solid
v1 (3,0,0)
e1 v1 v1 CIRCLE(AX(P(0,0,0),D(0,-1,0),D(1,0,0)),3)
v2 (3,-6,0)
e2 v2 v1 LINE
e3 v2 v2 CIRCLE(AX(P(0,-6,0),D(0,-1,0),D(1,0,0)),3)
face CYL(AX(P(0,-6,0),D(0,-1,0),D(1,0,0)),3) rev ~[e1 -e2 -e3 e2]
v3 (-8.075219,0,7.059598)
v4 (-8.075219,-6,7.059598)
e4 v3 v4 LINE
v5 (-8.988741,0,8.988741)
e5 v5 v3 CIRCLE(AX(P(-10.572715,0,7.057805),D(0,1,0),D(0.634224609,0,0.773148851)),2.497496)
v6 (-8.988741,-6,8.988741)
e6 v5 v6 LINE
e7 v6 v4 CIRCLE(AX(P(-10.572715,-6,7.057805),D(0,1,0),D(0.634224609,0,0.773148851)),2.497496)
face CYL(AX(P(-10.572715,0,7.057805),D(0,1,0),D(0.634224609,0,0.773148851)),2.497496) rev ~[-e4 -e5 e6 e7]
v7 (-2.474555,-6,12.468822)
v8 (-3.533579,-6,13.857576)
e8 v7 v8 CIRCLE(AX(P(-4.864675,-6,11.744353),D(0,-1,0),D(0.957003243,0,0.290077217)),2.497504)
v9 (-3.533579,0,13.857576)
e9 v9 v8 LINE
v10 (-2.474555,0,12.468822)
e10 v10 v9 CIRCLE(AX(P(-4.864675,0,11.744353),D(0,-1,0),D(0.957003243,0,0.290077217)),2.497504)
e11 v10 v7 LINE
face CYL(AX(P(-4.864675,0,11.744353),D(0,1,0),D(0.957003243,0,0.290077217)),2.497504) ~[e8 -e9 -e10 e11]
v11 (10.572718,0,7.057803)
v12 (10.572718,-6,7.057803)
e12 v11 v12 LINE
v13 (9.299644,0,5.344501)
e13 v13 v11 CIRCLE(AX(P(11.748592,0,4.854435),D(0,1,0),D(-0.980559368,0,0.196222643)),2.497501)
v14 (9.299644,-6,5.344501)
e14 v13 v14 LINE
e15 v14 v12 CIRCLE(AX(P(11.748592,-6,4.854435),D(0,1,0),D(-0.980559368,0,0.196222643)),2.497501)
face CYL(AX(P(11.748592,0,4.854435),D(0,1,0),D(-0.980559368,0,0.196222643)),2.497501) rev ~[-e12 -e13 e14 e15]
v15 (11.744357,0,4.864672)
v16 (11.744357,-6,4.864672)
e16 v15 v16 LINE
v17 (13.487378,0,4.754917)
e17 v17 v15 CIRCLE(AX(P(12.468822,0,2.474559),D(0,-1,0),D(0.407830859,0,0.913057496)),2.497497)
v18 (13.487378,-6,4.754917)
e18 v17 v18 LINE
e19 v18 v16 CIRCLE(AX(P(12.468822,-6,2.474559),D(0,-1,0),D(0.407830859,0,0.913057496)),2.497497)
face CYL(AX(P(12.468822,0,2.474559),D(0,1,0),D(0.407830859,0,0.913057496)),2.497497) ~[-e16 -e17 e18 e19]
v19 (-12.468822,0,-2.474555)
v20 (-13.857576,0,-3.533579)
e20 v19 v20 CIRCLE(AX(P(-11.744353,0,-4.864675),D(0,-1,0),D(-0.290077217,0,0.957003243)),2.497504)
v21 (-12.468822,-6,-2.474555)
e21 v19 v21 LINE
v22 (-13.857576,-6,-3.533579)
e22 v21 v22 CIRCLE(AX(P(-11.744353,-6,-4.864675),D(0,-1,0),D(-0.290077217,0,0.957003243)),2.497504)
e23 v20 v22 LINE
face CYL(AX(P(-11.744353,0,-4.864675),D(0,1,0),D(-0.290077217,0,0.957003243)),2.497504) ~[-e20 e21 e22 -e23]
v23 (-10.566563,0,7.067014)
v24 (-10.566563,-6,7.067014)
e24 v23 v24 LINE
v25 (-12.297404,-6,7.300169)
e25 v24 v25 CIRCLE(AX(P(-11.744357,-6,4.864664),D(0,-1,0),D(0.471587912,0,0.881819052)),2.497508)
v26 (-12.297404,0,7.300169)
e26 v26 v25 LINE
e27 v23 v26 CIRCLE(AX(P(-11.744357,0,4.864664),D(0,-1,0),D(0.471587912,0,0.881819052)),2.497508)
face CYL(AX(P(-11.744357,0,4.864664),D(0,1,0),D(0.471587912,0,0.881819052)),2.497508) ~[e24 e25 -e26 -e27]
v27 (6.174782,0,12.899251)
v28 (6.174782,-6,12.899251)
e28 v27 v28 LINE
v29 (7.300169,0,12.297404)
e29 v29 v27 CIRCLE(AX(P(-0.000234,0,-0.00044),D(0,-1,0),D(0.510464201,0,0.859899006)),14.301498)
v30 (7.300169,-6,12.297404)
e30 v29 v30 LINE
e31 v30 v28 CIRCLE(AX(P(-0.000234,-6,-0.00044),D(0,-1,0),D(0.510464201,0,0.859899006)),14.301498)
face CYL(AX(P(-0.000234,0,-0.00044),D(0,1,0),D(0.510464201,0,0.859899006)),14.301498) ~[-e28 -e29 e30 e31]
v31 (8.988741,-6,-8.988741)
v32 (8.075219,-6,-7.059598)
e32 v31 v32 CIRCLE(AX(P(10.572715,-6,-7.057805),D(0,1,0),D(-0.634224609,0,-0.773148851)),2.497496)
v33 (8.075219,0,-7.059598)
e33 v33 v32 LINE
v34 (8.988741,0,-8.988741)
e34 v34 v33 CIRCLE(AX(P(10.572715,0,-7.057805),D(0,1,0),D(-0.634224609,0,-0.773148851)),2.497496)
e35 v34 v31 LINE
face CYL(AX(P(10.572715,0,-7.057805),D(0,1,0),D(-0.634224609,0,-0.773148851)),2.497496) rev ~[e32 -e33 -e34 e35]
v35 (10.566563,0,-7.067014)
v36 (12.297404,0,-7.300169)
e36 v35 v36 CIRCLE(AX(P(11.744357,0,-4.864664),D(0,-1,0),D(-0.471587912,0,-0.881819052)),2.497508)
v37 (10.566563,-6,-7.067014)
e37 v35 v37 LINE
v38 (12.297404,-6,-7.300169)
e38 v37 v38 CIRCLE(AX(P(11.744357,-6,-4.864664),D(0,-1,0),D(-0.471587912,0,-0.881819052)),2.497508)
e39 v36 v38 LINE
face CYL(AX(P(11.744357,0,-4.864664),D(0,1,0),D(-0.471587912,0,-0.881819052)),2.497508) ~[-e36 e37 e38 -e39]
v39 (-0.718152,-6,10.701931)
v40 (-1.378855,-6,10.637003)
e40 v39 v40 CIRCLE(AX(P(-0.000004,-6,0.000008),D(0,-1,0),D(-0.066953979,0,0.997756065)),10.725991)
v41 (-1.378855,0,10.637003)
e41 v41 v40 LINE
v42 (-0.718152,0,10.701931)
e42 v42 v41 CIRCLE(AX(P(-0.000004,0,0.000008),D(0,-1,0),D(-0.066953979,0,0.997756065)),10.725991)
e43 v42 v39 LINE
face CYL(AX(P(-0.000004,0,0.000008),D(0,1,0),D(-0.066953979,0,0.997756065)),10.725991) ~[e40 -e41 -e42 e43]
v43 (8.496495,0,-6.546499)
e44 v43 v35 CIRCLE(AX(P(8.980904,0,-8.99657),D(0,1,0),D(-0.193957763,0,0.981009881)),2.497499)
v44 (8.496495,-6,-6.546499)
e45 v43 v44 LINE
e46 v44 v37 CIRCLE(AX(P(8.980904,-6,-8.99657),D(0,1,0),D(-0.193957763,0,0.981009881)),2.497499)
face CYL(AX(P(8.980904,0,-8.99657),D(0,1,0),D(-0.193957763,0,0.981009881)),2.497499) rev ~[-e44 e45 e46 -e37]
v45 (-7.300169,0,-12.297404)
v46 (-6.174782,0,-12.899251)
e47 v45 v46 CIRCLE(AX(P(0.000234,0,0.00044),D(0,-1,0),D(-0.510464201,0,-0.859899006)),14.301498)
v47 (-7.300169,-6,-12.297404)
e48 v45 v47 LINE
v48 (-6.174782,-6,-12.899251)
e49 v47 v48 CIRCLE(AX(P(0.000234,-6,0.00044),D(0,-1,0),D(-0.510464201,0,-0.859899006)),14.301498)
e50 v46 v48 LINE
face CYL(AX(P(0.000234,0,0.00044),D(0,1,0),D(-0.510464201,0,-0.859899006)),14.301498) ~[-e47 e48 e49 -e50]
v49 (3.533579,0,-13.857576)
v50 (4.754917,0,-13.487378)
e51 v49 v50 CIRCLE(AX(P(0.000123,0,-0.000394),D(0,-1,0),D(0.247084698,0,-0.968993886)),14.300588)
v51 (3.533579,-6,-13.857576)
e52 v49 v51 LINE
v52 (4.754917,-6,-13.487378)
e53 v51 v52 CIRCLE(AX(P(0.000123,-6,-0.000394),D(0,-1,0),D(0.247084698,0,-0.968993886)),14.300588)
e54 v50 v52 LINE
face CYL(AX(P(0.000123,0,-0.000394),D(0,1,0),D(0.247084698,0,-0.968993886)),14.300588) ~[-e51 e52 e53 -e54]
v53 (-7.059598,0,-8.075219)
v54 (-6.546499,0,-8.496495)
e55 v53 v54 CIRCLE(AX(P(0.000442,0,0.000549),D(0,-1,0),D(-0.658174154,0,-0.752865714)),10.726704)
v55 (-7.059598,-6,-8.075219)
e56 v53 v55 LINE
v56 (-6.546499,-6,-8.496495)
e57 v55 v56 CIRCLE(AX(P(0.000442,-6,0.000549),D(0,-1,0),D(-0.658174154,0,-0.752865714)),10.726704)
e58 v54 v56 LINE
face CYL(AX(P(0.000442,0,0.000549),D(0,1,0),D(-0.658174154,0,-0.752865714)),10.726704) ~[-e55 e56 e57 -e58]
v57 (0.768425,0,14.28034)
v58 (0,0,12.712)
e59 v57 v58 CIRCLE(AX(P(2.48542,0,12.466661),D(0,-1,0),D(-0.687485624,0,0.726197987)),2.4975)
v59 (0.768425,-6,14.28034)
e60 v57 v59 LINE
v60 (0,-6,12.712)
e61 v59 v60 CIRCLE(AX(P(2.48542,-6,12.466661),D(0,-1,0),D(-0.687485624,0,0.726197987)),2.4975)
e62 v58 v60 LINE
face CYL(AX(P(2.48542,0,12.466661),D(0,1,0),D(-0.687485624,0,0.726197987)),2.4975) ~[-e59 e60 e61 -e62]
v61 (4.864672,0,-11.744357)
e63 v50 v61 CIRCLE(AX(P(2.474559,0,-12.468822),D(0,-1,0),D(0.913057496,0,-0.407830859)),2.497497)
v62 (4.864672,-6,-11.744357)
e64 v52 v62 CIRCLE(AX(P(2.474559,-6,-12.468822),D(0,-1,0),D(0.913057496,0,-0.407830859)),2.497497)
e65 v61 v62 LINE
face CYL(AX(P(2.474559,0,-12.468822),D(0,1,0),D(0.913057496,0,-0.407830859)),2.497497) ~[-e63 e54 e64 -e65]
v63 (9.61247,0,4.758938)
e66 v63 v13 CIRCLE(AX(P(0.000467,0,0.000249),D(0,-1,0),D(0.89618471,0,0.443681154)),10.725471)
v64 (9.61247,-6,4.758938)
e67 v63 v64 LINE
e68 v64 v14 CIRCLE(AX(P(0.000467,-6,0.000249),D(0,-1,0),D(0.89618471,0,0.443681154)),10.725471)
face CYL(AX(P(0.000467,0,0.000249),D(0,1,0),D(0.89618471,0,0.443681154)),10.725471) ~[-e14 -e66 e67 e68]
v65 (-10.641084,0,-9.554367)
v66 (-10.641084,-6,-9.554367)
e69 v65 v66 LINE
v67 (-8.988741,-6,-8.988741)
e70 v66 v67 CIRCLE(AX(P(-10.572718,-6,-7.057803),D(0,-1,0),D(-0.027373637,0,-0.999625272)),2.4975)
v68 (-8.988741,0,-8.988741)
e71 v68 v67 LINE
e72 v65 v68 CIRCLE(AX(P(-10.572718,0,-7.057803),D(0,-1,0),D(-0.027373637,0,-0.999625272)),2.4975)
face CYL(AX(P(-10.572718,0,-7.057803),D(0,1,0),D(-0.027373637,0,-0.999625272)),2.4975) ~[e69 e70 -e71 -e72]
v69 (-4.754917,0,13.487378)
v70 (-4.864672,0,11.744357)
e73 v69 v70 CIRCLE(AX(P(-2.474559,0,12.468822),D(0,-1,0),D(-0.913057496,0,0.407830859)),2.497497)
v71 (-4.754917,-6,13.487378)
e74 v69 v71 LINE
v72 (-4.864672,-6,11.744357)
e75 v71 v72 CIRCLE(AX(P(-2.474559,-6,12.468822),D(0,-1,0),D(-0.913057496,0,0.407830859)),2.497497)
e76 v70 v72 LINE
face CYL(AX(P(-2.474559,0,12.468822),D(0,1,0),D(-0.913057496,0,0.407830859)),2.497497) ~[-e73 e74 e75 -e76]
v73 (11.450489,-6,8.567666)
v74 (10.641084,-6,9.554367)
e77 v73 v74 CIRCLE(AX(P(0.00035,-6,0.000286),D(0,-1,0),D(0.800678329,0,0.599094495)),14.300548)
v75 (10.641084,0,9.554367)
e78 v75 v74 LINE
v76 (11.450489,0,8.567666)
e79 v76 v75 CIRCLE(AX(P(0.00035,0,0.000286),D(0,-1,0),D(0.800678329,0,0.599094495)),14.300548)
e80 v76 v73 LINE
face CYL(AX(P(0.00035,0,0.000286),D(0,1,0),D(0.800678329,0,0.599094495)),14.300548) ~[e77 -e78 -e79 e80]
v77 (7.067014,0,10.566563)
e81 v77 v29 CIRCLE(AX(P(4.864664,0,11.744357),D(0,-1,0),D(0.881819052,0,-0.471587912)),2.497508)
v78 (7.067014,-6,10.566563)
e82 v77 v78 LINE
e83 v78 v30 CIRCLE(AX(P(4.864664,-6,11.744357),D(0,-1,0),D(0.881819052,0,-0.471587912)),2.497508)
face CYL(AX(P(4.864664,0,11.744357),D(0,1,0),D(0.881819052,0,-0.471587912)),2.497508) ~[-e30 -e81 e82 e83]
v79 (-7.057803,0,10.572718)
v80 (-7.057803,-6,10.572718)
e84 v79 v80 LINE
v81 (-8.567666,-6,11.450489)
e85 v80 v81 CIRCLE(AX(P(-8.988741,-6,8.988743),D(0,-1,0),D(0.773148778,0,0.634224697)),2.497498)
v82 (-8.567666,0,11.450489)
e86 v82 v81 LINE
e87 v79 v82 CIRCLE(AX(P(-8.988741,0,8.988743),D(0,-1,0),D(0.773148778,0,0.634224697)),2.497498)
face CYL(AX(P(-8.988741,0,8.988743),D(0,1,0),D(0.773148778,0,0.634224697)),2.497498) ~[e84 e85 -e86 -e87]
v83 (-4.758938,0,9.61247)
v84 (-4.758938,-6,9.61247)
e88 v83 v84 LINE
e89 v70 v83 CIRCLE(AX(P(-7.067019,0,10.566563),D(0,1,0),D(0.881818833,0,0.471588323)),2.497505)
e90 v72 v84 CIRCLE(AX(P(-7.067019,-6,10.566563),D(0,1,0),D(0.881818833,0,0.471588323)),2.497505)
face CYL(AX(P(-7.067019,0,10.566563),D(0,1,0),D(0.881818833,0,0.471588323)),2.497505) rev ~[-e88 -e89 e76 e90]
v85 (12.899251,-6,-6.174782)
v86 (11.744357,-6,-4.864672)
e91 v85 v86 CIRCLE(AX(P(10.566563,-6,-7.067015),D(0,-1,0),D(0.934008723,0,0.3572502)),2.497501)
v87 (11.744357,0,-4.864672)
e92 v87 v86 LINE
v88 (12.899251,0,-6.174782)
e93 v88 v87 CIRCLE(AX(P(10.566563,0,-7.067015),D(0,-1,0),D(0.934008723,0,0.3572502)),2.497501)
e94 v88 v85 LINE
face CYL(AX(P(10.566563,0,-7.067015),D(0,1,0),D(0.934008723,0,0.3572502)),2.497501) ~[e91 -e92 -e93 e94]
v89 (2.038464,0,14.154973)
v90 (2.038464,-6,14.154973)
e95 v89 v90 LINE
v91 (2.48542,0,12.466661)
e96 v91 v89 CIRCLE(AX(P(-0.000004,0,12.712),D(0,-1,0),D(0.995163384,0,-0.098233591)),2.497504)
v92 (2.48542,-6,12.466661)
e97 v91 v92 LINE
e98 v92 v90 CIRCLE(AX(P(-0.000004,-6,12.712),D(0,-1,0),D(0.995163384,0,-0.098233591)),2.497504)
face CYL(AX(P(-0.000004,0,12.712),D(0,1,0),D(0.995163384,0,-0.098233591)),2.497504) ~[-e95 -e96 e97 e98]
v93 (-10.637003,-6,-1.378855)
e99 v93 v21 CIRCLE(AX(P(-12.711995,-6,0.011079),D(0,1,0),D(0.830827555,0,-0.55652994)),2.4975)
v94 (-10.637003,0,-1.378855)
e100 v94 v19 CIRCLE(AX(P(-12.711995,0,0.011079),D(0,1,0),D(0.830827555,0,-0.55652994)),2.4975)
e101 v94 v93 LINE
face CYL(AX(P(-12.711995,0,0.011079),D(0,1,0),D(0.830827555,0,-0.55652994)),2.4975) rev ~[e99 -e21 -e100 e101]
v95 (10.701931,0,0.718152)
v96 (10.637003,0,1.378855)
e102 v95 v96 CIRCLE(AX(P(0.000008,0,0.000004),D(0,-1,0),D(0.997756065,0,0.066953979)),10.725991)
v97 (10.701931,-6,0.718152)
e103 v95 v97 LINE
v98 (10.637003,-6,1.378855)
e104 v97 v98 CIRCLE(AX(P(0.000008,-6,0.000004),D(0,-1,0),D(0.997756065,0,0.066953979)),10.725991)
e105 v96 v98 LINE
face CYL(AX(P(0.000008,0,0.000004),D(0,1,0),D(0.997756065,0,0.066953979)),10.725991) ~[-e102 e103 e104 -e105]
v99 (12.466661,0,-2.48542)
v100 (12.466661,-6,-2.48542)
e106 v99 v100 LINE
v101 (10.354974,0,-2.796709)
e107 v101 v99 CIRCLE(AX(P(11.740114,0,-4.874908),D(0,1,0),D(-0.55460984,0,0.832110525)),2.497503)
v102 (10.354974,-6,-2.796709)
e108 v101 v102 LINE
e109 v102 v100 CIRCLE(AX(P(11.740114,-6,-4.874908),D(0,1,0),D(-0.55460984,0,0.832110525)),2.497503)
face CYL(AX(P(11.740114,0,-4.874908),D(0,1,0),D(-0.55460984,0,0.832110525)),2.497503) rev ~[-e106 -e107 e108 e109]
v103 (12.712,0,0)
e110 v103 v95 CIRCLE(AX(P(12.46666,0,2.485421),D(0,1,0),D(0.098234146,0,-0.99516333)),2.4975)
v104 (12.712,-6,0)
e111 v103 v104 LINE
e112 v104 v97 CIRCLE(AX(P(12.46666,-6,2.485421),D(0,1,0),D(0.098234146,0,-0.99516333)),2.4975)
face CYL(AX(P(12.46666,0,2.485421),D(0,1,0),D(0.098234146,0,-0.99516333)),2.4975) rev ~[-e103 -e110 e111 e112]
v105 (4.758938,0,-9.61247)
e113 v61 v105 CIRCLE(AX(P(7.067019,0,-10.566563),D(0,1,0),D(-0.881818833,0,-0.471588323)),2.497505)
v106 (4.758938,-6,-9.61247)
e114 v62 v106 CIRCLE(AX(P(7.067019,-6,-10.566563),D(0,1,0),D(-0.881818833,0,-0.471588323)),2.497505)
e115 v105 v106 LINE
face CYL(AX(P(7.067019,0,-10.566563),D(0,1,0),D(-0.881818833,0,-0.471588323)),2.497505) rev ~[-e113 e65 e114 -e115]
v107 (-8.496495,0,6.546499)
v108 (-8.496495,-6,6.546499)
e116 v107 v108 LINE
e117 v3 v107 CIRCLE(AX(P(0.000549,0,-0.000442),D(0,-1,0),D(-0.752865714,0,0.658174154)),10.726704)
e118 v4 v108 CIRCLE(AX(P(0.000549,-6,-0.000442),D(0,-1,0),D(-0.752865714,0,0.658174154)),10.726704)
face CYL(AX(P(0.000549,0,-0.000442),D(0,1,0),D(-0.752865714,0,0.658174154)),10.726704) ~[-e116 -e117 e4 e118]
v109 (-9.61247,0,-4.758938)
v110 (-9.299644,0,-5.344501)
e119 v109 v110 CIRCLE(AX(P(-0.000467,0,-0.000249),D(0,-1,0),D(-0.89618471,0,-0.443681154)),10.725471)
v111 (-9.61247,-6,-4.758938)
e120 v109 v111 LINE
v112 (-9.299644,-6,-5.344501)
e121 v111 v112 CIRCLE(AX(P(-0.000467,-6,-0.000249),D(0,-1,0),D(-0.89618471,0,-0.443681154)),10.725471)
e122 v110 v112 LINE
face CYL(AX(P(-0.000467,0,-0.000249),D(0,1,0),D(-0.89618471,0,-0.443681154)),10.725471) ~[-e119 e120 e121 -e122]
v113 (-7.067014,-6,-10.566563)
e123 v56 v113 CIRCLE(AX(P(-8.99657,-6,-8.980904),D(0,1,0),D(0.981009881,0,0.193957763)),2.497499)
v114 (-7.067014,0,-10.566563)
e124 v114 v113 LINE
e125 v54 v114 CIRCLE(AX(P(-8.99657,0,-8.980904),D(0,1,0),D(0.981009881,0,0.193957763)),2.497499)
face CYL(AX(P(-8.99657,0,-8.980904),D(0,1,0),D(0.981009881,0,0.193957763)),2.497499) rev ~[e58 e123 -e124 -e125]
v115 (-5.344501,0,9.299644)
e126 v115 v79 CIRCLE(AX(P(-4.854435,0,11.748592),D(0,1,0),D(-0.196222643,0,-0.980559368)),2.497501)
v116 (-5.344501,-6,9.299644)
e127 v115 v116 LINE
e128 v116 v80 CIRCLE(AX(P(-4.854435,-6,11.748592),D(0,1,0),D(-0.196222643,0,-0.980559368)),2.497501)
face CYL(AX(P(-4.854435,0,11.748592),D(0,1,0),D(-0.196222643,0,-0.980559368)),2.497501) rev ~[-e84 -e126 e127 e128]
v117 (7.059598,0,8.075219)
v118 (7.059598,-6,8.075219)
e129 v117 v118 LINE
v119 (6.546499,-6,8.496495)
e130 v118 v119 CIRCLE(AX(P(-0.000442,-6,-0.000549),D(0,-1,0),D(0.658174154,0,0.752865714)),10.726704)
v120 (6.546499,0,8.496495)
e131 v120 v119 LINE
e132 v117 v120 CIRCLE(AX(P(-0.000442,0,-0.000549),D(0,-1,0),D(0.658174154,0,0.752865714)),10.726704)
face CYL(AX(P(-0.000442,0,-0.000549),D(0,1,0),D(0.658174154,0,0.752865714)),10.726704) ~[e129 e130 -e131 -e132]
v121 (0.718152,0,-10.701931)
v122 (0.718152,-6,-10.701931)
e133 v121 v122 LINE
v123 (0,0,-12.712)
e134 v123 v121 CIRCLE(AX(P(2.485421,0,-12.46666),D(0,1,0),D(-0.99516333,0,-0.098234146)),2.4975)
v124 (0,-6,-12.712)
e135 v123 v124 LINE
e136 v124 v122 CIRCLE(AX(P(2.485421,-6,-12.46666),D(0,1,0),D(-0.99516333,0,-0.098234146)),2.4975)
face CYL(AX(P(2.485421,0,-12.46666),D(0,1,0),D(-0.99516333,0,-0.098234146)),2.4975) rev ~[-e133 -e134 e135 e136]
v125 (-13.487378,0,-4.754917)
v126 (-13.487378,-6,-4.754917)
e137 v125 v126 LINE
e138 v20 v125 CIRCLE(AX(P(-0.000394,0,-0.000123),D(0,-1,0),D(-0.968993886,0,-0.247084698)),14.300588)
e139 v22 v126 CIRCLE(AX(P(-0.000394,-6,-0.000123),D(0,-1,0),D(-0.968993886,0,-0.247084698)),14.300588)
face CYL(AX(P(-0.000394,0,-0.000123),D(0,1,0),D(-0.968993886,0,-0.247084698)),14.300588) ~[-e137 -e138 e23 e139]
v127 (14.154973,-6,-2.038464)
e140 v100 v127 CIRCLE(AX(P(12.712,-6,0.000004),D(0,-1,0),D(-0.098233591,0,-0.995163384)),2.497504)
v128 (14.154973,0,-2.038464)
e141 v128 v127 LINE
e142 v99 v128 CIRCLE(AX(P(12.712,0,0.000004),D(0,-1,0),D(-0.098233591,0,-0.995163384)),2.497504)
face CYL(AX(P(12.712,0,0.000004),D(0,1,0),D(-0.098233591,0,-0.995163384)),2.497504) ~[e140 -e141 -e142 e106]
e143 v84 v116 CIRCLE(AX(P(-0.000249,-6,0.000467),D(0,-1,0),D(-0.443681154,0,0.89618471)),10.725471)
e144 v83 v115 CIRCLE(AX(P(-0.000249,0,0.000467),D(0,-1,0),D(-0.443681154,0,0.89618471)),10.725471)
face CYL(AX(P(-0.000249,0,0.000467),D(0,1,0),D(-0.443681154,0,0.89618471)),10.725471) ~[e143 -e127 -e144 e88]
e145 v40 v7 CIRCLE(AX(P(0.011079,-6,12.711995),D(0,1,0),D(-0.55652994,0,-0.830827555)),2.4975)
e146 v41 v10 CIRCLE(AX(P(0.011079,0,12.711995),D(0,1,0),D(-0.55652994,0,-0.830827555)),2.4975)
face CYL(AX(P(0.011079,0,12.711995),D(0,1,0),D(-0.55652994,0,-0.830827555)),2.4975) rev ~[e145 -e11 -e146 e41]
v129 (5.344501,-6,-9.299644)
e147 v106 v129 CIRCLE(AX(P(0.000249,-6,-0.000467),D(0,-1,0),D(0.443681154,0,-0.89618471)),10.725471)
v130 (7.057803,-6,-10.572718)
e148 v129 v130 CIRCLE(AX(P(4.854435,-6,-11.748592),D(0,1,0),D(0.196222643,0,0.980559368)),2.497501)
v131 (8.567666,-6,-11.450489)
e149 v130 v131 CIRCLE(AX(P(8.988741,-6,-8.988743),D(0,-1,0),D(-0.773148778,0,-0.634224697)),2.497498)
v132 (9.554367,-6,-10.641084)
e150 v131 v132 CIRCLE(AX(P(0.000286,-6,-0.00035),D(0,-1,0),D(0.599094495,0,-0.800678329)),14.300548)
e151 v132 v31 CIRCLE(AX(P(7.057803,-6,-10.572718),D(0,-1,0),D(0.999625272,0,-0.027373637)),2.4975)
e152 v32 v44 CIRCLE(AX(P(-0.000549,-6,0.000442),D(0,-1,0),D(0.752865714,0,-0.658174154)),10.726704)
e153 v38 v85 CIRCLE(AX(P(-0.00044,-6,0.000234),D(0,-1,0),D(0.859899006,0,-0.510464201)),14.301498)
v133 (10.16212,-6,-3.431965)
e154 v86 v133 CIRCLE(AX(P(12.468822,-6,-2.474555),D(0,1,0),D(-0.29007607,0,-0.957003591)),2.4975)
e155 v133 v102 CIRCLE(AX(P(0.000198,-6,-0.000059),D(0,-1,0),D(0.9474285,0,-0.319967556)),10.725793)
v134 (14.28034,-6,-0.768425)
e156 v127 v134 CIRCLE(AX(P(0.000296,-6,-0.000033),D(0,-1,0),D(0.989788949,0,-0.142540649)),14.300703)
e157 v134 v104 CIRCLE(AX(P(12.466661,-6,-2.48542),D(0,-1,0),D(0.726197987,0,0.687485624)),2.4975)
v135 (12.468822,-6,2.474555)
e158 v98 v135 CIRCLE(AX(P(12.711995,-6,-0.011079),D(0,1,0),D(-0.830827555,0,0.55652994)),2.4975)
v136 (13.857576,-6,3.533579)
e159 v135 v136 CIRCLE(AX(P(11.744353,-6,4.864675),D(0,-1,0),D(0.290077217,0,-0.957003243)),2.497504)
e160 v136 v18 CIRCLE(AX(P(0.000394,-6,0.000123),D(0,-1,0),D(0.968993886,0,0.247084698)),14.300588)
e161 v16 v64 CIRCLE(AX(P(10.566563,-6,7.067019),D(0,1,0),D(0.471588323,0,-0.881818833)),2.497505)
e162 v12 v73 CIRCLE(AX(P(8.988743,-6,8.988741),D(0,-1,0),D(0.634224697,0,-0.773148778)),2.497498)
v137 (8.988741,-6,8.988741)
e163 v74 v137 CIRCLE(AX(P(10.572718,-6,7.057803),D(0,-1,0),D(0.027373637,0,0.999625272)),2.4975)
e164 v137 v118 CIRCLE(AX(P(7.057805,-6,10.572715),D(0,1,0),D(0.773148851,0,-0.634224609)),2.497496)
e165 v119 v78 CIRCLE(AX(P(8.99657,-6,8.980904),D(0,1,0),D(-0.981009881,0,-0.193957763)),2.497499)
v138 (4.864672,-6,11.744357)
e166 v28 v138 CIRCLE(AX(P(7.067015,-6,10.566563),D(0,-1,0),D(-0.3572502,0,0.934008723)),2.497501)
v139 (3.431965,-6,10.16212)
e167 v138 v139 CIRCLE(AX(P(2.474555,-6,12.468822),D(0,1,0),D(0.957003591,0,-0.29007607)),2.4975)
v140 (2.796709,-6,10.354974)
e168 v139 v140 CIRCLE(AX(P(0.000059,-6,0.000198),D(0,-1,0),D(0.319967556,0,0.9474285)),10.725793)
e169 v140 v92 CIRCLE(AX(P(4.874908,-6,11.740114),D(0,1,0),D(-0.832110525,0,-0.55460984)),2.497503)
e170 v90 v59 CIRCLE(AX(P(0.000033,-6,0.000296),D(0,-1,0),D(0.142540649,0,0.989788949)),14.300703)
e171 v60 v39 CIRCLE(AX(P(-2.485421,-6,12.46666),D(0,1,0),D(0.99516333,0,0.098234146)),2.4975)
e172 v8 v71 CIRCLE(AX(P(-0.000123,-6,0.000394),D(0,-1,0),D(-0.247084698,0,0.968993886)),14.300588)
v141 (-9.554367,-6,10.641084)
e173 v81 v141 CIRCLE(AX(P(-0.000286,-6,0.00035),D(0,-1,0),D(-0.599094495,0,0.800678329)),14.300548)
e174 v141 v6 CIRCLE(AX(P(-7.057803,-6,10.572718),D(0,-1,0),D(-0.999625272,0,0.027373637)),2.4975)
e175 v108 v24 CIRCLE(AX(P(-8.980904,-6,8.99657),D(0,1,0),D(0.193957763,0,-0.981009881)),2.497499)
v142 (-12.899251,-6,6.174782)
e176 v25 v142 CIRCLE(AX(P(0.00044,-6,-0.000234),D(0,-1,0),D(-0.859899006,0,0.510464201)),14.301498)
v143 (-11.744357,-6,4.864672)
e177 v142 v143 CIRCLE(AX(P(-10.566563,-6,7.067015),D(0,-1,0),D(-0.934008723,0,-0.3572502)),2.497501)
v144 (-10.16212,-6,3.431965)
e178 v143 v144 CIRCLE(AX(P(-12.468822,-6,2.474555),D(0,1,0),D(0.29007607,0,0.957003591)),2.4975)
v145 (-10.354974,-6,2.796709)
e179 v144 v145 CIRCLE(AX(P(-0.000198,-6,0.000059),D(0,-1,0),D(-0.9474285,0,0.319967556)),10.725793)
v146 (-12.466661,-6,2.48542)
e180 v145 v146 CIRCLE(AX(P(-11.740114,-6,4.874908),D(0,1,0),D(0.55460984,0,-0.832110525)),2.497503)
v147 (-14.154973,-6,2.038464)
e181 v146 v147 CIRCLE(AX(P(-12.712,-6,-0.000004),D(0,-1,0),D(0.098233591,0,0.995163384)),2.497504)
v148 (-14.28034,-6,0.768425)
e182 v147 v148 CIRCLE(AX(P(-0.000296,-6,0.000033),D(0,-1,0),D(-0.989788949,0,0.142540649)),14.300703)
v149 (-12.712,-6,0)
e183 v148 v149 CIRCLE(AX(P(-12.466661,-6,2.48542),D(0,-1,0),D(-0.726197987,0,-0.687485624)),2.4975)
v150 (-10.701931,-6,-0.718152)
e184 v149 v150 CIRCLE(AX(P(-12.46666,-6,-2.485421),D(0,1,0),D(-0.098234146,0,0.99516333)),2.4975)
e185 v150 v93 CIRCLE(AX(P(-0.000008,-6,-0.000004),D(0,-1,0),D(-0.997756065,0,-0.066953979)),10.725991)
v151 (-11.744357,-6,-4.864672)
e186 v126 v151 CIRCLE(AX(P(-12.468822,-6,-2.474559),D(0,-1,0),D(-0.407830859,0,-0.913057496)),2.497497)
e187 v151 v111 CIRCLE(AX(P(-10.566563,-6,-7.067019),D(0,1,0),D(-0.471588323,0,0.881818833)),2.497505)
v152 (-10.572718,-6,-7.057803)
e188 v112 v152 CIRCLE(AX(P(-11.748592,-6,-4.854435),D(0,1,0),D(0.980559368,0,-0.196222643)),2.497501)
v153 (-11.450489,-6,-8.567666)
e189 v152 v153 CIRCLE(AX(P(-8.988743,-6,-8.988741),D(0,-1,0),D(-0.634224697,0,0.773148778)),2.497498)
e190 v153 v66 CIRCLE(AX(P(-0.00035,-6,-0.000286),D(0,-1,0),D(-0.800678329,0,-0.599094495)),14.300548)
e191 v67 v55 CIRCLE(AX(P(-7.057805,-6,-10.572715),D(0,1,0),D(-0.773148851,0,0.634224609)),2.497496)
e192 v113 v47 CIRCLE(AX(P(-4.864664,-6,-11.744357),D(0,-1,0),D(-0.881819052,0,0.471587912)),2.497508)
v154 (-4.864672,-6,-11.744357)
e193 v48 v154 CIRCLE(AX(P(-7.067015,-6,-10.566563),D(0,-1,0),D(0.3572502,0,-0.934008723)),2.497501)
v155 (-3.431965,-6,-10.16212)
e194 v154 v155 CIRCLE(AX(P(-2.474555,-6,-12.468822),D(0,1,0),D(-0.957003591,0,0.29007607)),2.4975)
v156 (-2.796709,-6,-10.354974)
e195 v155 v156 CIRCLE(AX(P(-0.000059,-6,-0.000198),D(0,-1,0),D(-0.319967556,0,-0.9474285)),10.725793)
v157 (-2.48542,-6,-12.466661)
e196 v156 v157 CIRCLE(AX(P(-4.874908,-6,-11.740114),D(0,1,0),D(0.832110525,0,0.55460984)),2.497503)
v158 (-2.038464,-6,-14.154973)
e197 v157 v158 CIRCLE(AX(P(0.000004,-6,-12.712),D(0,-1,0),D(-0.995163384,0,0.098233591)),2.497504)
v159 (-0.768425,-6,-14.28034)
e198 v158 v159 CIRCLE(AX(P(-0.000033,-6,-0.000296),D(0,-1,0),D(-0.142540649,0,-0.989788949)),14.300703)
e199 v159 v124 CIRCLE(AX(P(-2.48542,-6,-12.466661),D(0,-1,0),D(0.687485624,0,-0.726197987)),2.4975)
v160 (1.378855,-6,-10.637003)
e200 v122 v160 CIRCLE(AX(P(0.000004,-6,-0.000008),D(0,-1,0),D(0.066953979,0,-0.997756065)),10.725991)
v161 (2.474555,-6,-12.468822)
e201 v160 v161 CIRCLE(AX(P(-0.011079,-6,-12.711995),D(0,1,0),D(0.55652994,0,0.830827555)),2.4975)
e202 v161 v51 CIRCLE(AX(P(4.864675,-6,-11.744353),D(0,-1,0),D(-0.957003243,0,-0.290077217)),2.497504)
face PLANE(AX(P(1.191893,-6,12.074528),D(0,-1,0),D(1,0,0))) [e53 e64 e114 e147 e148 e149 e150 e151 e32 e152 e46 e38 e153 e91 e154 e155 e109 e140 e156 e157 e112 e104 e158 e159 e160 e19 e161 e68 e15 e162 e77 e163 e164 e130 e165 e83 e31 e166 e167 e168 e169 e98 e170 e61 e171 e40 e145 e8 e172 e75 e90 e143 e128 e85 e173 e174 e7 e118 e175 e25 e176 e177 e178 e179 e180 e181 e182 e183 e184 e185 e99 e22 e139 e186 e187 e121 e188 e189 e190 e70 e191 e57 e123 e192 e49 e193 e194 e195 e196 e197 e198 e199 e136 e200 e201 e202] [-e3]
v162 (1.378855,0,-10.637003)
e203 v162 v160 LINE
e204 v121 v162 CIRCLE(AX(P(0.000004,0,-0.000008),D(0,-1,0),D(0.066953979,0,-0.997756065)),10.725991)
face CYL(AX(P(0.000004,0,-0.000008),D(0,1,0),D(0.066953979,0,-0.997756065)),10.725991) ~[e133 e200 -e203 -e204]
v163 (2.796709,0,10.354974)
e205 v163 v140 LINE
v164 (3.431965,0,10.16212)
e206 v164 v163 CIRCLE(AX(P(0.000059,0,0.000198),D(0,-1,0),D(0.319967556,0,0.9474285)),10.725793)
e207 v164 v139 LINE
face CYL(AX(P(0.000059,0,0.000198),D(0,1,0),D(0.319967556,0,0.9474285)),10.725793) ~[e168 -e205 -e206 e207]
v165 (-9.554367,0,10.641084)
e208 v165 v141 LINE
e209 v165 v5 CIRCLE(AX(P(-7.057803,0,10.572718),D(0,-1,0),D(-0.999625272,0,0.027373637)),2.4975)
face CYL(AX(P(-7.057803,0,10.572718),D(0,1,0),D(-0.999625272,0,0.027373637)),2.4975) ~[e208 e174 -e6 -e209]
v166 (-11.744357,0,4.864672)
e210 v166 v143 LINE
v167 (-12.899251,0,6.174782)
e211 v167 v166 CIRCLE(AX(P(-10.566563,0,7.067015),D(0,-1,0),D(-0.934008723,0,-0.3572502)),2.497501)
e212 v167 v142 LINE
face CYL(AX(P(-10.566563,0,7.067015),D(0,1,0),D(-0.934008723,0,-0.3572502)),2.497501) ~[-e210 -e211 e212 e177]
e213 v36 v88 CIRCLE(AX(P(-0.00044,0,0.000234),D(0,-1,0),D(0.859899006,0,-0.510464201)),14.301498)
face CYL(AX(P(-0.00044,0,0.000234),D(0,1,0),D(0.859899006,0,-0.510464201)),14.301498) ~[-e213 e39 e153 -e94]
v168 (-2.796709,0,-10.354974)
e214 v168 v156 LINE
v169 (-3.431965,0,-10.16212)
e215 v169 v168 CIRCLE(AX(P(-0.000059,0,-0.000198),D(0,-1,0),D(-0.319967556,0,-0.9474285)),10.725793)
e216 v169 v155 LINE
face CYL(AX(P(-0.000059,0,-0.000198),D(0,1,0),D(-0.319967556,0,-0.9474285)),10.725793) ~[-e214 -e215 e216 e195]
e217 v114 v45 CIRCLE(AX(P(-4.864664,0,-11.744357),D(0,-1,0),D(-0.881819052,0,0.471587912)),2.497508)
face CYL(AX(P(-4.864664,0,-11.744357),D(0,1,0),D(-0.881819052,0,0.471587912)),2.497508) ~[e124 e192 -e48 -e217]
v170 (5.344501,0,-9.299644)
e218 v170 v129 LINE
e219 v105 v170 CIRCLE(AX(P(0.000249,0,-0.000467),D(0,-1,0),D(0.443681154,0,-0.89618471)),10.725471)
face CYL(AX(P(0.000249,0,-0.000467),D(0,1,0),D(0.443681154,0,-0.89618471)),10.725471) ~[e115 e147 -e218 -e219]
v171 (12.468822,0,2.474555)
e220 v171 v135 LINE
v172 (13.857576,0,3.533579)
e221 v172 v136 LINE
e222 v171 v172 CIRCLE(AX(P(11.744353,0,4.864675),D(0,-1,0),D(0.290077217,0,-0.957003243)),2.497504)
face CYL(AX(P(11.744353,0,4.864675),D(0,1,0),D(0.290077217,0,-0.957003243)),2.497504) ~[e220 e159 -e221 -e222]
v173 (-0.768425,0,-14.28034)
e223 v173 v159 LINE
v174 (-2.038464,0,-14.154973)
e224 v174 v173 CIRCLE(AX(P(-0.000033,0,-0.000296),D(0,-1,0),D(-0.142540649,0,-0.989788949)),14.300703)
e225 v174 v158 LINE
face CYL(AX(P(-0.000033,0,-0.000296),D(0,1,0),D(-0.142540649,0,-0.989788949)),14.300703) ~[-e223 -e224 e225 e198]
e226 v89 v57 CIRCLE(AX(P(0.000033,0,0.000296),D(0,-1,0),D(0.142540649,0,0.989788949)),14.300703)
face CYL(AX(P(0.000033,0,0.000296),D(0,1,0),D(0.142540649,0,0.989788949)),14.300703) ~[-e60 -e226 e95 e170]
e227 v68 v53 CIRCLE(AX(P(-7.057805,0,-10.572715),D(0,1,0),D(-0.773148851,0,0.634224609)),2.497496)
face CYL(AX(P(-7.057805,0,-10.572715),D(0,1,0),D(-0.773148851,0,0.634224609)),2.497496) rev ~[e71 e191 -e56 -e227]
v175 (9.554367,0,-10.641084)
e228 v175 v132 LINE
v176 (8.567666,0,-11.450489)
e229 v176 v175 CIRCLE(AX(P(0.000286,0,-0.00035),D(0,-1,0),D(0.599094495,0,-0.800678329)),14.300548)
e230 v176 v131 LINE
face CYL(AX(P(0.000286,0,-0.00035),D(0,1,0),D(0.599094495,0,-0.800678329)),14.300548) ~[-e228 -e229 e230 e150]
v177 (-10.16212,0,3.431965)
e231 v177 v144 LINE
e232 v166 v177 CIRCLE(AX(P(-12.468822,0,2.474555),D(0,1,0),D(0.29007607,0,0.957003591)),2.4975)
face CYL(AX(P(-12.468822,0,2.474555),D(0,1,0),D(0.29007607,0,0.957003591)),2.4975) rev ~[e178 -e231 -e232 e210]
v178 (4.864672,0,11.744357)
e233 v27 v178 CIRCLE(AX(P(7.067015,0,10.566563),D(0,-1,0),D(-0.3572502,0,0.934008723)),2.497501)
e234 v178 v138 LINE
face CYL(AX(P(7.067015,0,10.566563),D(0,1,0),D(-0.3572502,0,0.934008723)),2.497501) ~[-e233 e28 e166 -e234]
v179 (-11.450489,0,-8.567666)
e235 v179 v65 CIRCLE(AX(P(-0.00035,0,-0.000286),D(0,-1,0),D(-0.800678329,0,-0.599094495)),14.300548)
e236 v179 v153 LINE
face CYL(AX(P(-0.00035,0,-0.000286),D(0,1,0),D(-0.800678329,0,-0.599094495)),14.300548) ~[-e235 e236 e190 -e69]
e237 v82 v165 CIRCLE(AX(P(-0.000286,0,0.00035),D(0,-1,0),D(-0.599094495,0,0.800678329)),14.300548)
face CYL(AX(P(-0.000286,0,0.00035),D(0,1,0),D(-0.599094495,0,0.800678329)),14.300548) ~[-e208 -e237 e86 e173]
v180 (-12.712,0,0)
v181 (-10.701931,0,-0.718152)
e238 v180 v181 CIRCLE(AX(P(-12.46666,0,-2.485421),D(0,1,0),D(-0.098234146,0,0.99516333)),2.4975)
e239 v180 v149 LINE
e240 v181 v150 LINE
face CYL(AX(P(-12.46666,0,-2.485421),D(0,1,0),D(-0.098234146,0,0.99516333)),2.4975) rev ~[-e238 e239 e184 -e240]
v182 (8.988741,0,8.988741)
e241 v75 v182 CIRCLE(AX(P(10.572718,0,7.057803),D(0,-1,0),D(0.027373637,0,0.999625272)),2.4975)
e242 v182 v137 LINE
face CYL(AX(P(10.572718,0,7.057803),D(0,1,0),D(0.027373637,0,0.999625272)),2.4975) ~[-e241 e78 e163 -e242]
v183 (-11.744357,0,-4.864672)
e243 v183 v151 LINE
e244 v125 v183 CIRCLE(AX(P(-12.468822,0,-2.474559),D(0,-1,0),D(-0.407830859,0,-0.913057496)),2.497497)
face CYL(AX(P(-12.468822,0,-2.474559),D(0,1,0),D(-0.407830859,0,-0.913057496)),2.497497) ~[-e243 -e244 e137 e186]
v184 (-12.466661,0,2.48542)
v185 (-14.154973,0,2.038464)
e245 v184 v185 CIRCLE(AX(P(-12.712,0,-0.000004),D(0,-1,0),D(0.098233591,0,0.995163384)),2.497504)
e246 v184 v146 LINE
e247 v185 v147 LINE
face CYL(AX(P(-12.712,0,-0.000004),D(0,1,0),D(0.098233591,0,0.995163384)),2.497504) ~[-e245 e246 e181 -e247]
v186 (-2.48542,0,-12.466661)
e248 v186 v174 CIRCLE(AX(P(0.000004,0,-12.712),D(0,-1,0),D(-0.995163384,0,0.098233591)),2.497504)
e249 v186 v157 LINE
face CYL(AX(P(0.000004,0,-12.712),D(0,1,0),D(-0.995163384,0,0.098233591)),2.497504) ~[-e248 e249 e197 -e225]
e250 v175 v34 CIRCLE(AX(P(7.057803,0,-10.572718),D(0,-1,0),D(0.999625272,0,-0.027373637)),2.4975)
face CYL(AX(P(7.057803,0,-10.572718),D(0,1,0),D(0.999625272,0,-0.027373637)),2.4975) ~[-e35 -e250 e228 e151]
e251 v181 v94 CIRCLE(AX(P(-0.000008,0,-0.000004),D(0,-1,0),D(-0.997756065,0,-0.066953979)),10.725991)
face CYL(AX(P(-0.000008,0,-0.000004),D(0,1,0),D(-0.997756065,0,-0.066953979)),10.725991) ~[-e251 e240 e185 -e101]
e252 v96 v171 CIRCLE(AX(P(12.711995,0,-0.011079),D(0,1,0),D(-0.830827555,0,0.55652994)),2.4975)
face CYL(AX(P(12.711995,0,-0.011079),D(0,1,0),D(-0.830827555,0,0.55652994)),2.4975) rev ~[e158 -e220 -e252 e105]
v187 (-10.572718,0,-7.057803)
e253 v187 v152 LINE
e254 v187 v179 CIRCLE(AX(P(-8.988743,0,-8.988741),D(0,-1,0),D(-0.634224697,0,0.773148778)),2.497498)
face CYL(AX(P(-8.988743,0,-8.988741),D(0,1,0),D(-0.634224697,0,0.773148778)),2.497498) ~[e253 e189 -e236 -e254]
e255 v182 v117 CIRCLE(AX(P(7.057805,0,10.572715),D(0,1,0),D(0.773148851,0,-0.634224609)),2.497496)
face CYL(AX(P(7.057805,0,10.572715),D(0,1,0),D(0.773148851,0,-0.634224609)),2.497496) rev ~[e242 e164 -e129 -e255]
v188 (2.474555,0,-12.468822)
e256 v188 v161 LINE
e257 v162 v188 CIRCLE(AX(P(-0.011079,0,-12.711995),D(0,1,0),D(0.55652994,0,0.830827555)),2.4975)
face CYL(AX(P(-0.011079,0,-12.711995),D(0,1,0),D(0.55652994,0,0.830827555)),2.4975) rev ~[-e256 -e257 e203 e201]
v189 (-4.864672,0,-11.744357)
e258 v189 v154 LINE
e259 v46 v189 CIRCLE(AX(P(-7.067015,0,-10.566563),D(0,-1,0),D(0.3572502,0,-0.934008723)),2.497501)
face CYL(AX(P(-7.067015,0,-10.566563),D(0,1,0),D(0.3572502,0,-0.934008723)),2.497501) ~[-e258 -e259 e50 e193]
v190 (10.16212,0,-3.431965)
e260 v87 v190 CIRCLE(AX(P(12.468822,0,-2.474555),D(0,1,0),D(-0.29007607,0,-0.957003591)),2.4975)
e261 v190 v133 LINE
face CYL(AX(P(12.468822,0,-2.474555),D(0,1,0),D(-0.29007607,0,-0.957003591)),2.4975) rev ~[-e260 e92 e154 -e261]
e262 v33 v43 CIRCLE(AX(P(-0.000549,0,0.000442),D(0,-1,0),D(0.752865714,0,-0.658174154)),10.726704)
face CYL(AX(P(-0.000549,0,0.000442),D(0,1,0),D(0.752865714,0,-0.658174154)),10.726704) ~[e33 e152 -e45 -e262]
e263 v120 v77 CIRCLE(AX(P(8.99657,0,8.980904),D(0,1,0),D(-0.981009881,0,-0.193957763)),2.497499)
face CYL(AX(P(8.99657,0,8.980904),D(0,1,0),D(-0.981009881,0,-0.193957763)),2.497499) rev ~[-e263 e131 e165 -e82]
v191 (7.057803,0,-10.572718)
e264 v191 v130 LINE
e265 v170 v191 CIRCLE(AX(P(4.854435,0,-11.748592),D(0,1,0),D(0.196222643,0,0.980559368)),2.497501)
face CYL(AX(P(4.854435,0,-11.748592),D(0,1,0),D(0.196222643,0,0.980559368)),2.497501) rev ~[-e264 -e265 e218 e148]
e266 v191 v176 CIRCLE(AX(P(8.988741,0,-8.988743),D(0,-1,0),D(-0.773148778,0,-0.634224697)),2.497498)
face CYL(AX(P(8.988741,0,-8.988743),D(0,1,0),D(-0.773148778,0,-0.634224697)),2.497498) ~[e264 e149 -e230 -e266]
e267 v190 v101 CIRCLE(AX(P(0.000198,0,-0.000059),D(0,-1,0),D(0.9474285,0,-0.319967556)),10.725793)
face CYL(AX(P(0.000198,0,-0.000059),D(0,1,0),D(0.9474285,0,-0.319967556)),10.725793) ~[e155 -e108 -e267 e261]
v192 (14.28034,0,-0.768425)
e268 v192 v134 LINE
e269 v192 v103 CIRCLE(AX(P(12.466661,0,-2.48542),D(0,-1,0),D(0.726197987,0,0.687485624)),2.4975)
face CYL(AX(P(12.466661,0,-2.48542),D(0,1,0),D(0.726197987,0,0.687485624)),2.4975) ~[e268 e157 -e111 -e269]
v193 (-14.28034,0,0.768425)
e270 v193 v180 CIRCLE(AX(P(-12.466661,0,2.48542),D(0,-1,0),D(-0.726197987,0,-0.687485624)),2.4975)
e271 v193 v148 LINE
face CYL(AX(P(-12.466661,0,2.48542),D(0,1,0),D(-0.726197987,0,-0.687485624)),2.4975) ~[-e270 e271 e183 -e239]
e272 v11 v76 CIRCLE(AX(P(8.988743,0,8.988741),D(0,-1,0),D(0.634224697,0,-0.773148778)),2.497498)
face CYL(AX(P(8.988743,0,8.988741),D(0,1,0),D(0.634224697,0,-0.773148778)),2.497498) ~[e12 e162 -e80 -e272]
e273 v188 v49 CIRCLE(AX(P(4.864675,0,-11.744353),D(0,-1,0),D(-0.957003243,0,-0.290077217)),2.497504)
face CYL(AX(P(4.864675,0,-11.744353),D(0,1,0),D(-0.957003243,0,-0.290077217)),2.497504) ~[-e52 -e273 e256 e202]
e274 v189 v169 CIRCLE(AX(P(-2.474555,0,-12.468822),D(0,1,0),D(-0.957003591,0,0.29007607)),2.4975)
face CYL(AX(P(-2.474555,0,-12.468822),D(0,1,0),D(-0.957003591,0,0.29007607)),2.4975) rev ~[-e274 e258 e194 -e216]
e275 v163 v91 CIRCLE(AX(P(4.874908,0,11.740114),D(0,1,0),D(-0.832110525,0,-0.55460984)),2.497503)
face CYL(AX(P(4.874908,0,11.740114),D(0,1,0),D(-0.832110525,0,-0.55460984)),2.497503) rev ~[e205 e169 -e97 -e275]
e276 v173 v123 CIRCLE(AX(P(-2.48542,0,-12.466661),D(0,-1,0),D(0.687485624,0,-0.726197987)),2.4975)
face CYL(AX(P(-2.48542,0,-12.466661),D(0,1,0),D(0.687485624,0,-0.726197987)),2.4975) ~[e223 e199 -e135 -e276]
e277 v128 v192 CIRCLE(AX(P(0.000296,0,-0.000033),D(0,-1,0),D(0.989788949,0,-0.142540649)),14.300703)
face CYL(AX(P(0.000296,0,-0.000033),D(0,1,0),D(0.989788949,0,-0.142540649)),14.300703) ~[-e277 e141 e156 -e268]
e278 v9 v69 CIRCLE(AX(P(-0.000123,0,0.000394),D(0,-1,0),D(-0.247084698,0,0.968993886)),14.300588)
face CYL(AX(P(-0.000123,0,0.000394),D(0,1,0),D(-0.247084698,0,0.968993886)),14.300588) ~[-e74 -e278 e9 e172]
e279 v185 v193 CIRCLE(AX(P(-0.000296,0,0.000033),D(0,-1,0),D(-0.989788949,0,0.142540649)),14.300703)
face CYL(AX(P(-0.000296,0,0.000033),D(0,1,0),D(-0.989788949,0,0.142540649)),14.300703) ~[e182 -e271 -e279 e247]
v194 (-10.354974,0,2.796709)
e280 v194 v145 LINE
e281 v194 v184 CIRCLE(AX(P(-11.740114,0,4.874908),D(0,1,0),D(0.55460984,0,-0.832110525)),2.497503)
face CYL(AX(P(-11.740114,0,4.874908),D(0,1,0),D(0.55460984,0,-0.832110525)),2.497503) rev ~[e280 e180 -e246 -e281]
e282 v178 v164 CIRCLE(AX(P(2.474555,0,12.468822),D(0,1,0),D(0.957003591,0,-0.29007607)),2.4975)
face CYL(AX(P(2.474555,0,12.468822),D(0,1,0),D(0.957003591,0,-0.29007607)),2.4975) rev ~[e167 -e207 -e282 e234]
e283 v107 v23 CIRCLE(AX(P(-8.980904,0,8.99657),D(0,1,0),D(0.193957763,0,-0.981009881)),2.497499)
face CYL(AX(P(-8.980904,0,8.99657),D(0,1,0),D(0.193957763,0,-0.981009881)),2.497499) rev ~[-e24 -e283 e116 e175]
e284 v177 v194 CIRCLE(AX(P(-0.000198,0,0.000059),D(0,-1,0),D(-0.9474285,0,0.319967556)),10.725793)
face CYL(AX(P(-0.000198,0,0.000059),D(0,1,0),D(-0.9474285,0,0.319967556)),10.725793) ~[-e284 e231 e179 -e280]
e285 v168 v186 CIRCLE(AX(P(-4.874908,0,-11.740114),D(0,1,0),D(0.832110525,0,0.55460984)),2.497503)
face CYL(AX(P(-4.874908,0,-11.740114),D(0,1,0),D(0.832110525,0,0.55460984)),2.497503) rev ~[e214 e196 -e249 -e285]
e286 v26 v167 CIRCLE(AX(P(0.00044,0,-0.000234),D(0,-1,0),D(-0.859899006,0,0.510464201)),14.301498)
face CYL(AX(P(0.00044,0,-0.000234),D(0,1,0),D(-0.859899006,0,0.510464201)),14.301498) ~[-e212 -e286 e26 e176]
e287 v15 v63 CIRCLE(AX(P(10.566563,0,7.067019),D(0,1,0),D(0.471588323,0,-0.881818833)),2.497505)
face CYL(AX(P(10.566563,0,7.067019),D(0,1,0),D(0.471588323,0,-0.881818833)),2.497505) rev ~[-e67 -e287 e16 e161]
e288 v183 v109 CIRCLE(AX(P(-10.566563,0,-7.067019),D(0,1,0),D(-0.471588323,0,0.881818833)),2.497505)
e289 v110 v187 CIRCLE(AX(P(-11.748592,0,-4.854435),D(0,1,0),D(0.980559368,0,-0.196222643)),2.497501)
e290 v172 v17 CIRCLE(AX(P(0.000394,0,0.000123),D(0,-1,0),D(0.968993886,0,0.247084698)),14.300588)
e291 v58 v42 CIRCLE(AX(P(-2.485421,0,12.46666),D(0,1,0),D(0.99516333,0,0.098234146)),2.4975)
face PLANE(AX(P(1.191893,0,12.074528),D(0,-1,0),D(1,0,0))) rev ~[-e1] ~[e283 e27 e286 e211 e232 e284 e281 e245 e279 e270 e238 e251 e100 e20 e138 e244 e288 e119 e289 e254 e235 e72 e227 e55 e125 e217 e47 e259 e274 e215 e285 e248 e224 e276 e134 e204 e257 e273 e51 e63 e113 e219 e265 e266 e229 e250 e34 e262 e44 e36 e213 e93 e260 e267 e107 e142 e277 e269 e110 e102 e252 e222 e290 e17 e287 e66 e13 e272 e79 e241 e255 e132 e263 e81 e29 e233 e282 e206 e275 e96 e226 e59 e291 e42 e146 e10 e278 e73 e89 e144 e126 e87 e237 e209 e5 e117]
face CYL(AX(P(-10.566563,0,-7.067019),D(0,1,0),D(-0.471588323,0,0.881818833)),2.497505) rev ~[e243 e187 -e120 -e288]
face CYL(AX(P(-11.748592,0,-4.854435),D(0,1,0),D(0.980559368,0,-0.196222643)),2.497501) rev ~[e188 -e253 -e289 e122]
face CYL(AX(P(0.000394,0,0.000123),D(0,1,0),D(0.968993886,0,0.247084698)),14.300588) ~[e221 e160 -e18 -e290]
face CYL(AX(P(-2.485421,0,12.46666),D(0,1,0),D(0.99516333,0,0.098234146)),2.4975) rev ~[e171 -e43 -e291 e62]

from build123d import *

# Parameters (mm, degrees)
F1_DEPTH = 6
F2_R     = 3
F3_DEPTH = 6.001


with BuildPart() as f1:
    # F0 (on Front) → F1 (new body)
    with BuildSketch(Plane.XZ):
        with BuildLine():
            ThreePointArc((2.48542, 12.466661), (2.414328, 13.351159), (2.038464, 14.154973))
            ThreePointArc((2.038464, 14.154973), (1.404844, 14.231831), (0.768425, 14.28034))
            ThreePointArc((0.768425, 14.28034), (0.242655, 13.565528), (0, 12.712))
            ThreePointArc((0, 12.712), (-0.13352, 11.62638), (-0.718152, 10.701931))
            ThreePointArc((-0.718152, 10.701931), (1.053657, 10.674122), (2.796709, 10.354974))
            ThreePointArc((2.796709, 10.354974), (2.404106, 11.375887), (2.48542, 12.466661))
        make_face()
        with BuildLine():
            ThreePointArc((3.431965, 10.16212), (3.11583, 10.263463), (2.796709, 10.354974))
            ThreePointArc((2.796709, 10.354974), (1.053657, 10.674122), (-0.718152, 10.701931))
            ThreePointArc((-0.718152, 10.701931), (-1.049006, 10.67458), (-1.378855, 10.637003))
            ThreePointArc((-1.378855, 10.637003), (-3.111357, 10.26482), (-4.758938, 9.61247))
            ThreePointArc((-4.758938, 9.61247), (-5.05414, 9.460589), (-5.344501, 9.299644))
            ThreePointArc((-5.344501, 9.299644), (-6.802696, 8.292792), (-8.075219, 7.059598))
            ThreePointArc((-8.075219, 7.059598), (-8.289827, 6.806309), (-8.496495, 6.546499))
            ThreePointArc((-8.496495, 6.546499), (-9.458386, 5.058262), (-10.16212, 3.431965))
            ThreePointArc((-10.16212, 3.431965), (-10.263463, 3.11583), (-10.354974, 2.796709))
            ThreePointArc((-10.354974, 2.796709), (-10.674122, 1.053657), (-10.701931, -0.718152))
            ThreePointArc((-10.701931, -0.718152), (-10.67458, -1.049006), (-10.637003, -1.378855))
            ThreePointArc((-10.637003, -1.378855), (-10.26482, -3.111357), (-9.61247, -4.758938))
            ThreePointArc((-9.61247, -4.758938), (-9.460589, -5.05414), (-9.299644, -5.344501))
            ThreePointArc((-9.299644, -5.344501), (-8.292792, -6.802696), (-7.059598, -8.075219))
            ThreePointArc((-7.059598, -8.075219), (-6.806309, -8.289827), (-6.546499, -8.496495))
            ThreePointArc((-6.546499, -8.496495), (-5.058262, -9.458386), (-3.431965, -10.16212))
            ThreePointArc((-3.431965, -10.16212), (-3.11583, -10.263463), (-2.796709, -10.354974))
            ThreePointArc((-2.796709, -10.354974), (-1.053657, -10.674122), (0.718152, -10.701931))
            ThreePointArc((0.718152, -10.701931), (1.049006, -10.67458), (1.378855, -10.637003))
            ThreePointArc((1.378855, -10.637003), (3.111357, -10.26482), (4.758938, -9.61247))
            ThreePointArc((4.758938, -9.61247), (5.05414, -9.460589), (5.344501, -9.299644))
            ThreePointArc((5.344501, -9.299644), (6.802696, -8.292792), (8.075219, -7.059598))
            ThreePointArc((8.075219, -7.059598), (8.289827, -6.806309), (8.496495, -6.546499))
            ThreePointArc((8.496495, -6.546499), (9.458386, -5.058262), (10.16212, -3.431965))
            ThreePointArc((10.16212, -3.431965), (10.263463, -3.11583), (10.354974, -2.796709))
            ThreePointArc((10.354974, -2.796709), (10.632839, -1.410606), (10.726, 0))
            ThreePointArc((10.726, 0), (10.719981, 0.359278), (10.701931, 0.718152))
            ThreePointArc((10.701931, 0.718152), (10.67458, 1.049006), (10.637003, 1.378855))
            ThreePointArc((10.637003, 1.378855), (10.26482, 3.111357), (9.61247, 4.758938))
            ThreePointArc((9.61247, 4.758938), (9.460589, 5.05414), (9.299644, 5.344501))
            ThreePointArc((9.299644, 5.344501), (8.292792, 6.802696), (7.059598, 8.075219))
            ThreePointArc((7.059598, 8.075219), (6.806309, 8.289827), (6.546499, 8.496495))
            ThreePointArc((6.546499, 8.496495), (5.058262, 9.458386), (3.431965, 10.16212))
        make_face()
        with BuildLine():
            ThreePointArc((4.864672, 11.744357), (4.325866, 10.79247), (3.431965, 10.16212))
            ThreePointArc((3.431965, 10.16212), (5.058262, 9.458386), (6.546499, 8.496495))
            ThreePointArc((6.546499, 8.496495), (6.574468, 9.589938), (7.067014, 10.566563))
            ThreePointArc((7.067014, 10.566563), (7.339816, 11.410939), (7.300169, 12.297404))
            ThreePointArc((7.300169, 12.297404), (6.744192, 12.610887), (6.174782, 12.899251))
            ThreePointArc((6.174782, 12.899251), (5.415487, 12.440054), (4.864672, 11.744357))
        make_face()
        with BuildLine():
            ThreePointArc((-4.758938, 9.61247), (-3.111357, 10.26482), (-1.378855, 10.637003))
            ThreePointArc((-1.378855, 10.637003), (-2.132259, 11.429961), (-2.474555, 12.468822))
            ThreePointArc((-2.474555, 12.468822), (-2.878719, 13.258786), (-3.533579, 13.857576))
            ThreePointArc((-3.533579, 13.857576), (-4.14838, 13.686108), (-4.754917, 13.487378))
            ThreePointArc((-4.754917, 13.487378), (-4.967119, 12.625774), (-4.864672, 11.744357))
            ThreePointArc((-4.864672, 11.744357), (-4.57258, 10.690278), (-4.758938, 9.61247))
        make_face()
        with BuildLine():
            ThreePointArc((8.988741, 8.988741), (8.126679, 8.315505), (7.059598, 8.075219))
            ThreePointArc((7.059598, 8.075219), (8.292792, 6.802696), (9.299644, 5.344501))
            ThreePointArc((9.299644, 5.344501), (9.743926, 6.344007), (10.572718, 7.057803))
            ThreePointArc((10.572718, 7.057803), (11.147883, 7.733507), (11.450489, 8.567666))
            ThreePointArc((11.450489, 8.567666), (11.056799, 9.07005), (10.641084, 9.554367))
            ThreePointArc((10.641084, 9.554367), (9.76386, 9.420694), (8.988741, 8.988741))
        make_face()
        with BuildLine():
            ThreePointArc((-8.075219, 7.059598), (-6.802696, 8.292792), (-5.344501, 9.299644))
            ThreePointArc((-5.344501, 9.299644), (-6.344007, 9.743926), (-7.057803, 10.572718))
            ThreePointArc((-7.057803, 10.572718), (-7.733507, 11.147883), (-8.567666, 11.450489))
            ThreePointArc((-8.567666, 11.450489), (-9.07005, 11.056799), (-9.554367, 10.641084))
            ThreePointArc((-9.554367, 10.641084), (-9.420694, 9.76386), (-8.988741, 8.988741))
            ThreePointArc((-8.988741, 8.988741), (-8.315505, 8.126679), (-8.075219, 7.059598))
        make_face()
        with BuildLine():
            ThreePointArc((11.744357, 4.864672), (10.690278, 4.57258), (9.61247, 4.758938))
            ThreePointArc((9.61247, 4.758938), (10.26482, 3.111357), (10.637003, 1.378855))
            ThreePointArc((10.637003, 1.378855), (11.429961, 2.132259), (12.468822, 2.474555))
            ThreePointArc((12.468822, 2.474555), (13.258786, 2.878719), (13.857576, 3.533579))
            ThreePointArc((13.857576, 3.533579), (13.686108, 4.14838), (13.487378, 4.754917))
            ThreePointArc((13.487378, 4.754917), (12.625774, 4.967119), (11.744357, 4.864672))
        make_face()
        with BuildLine():
            ThreePointArc((-10.16212, 3.431965), (-9.458386, 5.058262), (-8.496495, 6.546499))
            ThreePointArc((-8.496495, 6.546499), (-9.589938, 6.574468), (-10.566563, 7.067014))
            ThreePointArc((-10.566563, 7.067014), (-11.410939, 7.339816), (-12.297404, 7.300169))
            ThreePointArc((-12.297404, 7.300169), (-12.610887, 6.744192), (-12.899251, 6.174782))
            ThreePointArc((-12.899251, 6.174782), (-12.440054, 5.415487), (-11.744357, 4.864672))
            ThreePointArc((-11.744357, 4.864672), (-10.79247, 4.325866), (-10.16212, 3.431965))
        make_face()
        with BuildLine():
            ThreePointArc((12.712, 0), (11.62638, 0.13352), (10.701931, 0.718152))
            ThreePointArc((10.701931, 0.718152), (10.719981, 0.359278), (10.726, 0))
            ThreePointArc((10.726, 0), (10.632839, -1.410606), (10.354974, -2.796709))
            ThreePointArc((10.354974, -2.796709), (11.375887, -2.404106), (12.466661, -2.48542))
            ThreePointArc((12.466661, -2.48542), (13.351159, -2.414328), (14.154973, -2.038464))
            ThreePointArc((14.154973, -2.038464), (14.231831, -1.404844), (14.28034, -0.768425))
            ThreePointArc((14.28034, -0.768425), (13.565528, -0.242655), (12.712, 0))
        make_face()
        with BuildLine():
            ThreePointArc((-10.701931, -0.718152), (-10.674122, 1.053657), (-10.354974, 2.796709))
            ThreePointArc((-10.354974, 2.796709), (-11.375887, 2.404106), (-12.466661, 2.48542))
            ThreePointArc((-12.466661, 2.48542), (-13.351159, 2.414328), (-14.154973, 2.038464))
            ThreePointArc((-14.154973, 2.038464), (-14.231831, 1.404844), (-14.28034, 0.768425))
            ThreePointArc((-14.28034, 0.768425), (-13.565528, 0.242655), (-12.712, 0))
            ThreePointArc((-12.712, 0), (-11.62638, -0.13352), (-10.701931, -0.718152))
        make_face()
        with BuildLine():
            ThreePointArc((-9.61247, -4.758938), (-10.26482, -3.111357), (-10.637003, -1.378855))
            ThreePointArc((-10.637003, -1.378855), (-11.429961, -2.132259), (-12.468822, -2.474555))
            ThreePointArc((-12.468822, -2.474555), (-13.258786, -2.878719), (-13.857576, -3.533579))
            ThreePointArc((-13.857576, -3.533579), (-13.686108, -4.14838), (-13.487378, -4.754917))
            ThreePointArc((-13.487378, -4.754917), (-12.625774, -4.967119), (-11.744357, -4.864672))
            ThreePointArc((-11.744357, -4.864672), (-10.690278, -4.57258), (-9.61247, -4.758938))
        make_face()
        with BuildLine():
            ThreePointArc((11.744357, -4.864672), (10.79247, -4.325866), (10.16212, -3.431965))
            ThreePointArc((10.16212, -3.431965), (9.458386, -5.058262), (8.496495, -6.546499))
            ThreePointArc((8.496495, -6.546499), (9.589938, -6.574468), (10.566563, -7.067014))
            ThreePointArc((10.566563, -7.067014), (11.410939, -7.339816), (12.297404, -7.300169))
            ThreePointArc((12.297404, -7.300169), (12.610887, -6.744192), (12.899251, -6.174782))
            ThreePointArc((12.899251, -6.174782), (12.440054, -5.415487), (11.744357, -4.864672))
        make_face()
        with BuildLine():
            ThreePointArc((-7.059598, -8.075219), (-8.292792, -6.802696), (-9.299644, -5.344501))
            ThreePointArc((-9.299644, -5.344501), (-9.743926, -6.344007), (-10.572718, -7.057803))
            ThreePointArc((-10.572718, -7.057803), (-11.147883, -7.733507), (-11.450489, -8.567666))
            ThreePointArc((-11.450489, -8.567666), (-11.056799, -9.07005), (-10.641084, -9.554367))
            ThreePointArc((-10.641084, -9.554367), (-9.76386, -9.420694), (-8.988741, -8.988741))
            ThreePointArc((-8.988741, -8.988741), (-8.126679, -8.315505), (-7.059598, -8.075219))
        make_face()
        with BuildLine():
            ThreePointArc((8.988741, -8.988741), (8.315505, -8.126679), (8.075219, -7.059598))
            ThreePointArc((8.075219, -7.059598), (6.802696, -8.292792), (5.344501, -9.299644))
            ThreePointArc((5.344501, -9.299644), (6.344007, -9.743926), (7.057803, -10.572718))
            ThreePointArc((7.057803, -10.572718), (7.733507, -11.147883), (8.567666, -11.450489))
            ThreePointArc((8.567666, -11.450489), (9.07005, -11.056799), (9.554367, -10.641084))
            ThreePointArc((9.554367, -10.641084), (9.420694, -9.76386), (8.988741, -8.988741))
        make_face()
        with BuildLine():
            ThreePointArc((-3.431965, -10.16212), (-5.058262, -9.458386), (-6.546499, -8.496495))
            ThreePointArc((-6.546499, -8.496495), (-6.574468, -9.589938), (-7.067014, -10.566563))
            ThreePointArc((-7.067014, -10.566563), (-7.339816, -11.410939), (-7.300169, -12.297404))
            ThreePointArc((-7.300169, -12.297404), (-6.744192, -12.610887), (-6.174782, -12.899251))
            ThreePointArc((-6.174782, -12.899251), (-5.415487, -12.440054), (-4.864672, -11.744357))
            ThreePointArc((-4.864672, -11.744357), (-4.325866, -10.79247), (-3.431965, -10.16212))
        make_face()
        with BuildLine():
            ThreePointArc((4.864672, -11.744357), (4.57258, -10.690278), (4.758938, -9.61247))
            ThreePointArc((4.758938, -9.61247), (3.111357, -10.26482), (1.378855, -10.637003))
            ThreePointArc((1.378855, -10.637003), (2.132259, -11.429961), (2.474555, -12.468822))
            ThreePointArc((2.474555, -12.468822), (2.878719, -13.258786), (3.533579, -13.857576))
            ThreePointArc((3.533579, -13.857576), (4.14838, -13.686108), (4.754917, -13.487378))
            ThreePointArc((4.754917, -13.487378), (4.967119, -12.625774), (4.864672, -11.744357))
        make_face()
        with BuildLine():
            ThreePointArc((0.718152, -10.701931), (-1.053657, -10.674122), (-2.796709, -10.354974))
            ThreePointArc((-2.796709, -10.354974), (-2.404106, -11.375887), (-2.48542, -12.466661))
            ThreePointArc((-2.48542, -12.466661), (-2.414328, -13.351159), (-2.038464, -14.154973))
            ThreePointArc((-2.038464, -14.154973), (-1.404844, -14.231831), (-0.768425, -14.28034))
            ThreePointArc((-0.768425, -14.28034), (-0.242655, -13.565528), (0, -12.712))
            ThreePointArc((0, -12.712), (0.13352, -11.62638), (0.718152, -10.701931))
        make_face()
    extrude(amount=F1_DEPTH)

    # F2 (on face) → F3 (cut, through all)
    with BuildSketch(Plane.XZ.offset(6)):
        Circle(F2_R)
    extrude(amount=-F3_DEPTH, mode=Mode.SUBTRACT)


solid = f1.part
